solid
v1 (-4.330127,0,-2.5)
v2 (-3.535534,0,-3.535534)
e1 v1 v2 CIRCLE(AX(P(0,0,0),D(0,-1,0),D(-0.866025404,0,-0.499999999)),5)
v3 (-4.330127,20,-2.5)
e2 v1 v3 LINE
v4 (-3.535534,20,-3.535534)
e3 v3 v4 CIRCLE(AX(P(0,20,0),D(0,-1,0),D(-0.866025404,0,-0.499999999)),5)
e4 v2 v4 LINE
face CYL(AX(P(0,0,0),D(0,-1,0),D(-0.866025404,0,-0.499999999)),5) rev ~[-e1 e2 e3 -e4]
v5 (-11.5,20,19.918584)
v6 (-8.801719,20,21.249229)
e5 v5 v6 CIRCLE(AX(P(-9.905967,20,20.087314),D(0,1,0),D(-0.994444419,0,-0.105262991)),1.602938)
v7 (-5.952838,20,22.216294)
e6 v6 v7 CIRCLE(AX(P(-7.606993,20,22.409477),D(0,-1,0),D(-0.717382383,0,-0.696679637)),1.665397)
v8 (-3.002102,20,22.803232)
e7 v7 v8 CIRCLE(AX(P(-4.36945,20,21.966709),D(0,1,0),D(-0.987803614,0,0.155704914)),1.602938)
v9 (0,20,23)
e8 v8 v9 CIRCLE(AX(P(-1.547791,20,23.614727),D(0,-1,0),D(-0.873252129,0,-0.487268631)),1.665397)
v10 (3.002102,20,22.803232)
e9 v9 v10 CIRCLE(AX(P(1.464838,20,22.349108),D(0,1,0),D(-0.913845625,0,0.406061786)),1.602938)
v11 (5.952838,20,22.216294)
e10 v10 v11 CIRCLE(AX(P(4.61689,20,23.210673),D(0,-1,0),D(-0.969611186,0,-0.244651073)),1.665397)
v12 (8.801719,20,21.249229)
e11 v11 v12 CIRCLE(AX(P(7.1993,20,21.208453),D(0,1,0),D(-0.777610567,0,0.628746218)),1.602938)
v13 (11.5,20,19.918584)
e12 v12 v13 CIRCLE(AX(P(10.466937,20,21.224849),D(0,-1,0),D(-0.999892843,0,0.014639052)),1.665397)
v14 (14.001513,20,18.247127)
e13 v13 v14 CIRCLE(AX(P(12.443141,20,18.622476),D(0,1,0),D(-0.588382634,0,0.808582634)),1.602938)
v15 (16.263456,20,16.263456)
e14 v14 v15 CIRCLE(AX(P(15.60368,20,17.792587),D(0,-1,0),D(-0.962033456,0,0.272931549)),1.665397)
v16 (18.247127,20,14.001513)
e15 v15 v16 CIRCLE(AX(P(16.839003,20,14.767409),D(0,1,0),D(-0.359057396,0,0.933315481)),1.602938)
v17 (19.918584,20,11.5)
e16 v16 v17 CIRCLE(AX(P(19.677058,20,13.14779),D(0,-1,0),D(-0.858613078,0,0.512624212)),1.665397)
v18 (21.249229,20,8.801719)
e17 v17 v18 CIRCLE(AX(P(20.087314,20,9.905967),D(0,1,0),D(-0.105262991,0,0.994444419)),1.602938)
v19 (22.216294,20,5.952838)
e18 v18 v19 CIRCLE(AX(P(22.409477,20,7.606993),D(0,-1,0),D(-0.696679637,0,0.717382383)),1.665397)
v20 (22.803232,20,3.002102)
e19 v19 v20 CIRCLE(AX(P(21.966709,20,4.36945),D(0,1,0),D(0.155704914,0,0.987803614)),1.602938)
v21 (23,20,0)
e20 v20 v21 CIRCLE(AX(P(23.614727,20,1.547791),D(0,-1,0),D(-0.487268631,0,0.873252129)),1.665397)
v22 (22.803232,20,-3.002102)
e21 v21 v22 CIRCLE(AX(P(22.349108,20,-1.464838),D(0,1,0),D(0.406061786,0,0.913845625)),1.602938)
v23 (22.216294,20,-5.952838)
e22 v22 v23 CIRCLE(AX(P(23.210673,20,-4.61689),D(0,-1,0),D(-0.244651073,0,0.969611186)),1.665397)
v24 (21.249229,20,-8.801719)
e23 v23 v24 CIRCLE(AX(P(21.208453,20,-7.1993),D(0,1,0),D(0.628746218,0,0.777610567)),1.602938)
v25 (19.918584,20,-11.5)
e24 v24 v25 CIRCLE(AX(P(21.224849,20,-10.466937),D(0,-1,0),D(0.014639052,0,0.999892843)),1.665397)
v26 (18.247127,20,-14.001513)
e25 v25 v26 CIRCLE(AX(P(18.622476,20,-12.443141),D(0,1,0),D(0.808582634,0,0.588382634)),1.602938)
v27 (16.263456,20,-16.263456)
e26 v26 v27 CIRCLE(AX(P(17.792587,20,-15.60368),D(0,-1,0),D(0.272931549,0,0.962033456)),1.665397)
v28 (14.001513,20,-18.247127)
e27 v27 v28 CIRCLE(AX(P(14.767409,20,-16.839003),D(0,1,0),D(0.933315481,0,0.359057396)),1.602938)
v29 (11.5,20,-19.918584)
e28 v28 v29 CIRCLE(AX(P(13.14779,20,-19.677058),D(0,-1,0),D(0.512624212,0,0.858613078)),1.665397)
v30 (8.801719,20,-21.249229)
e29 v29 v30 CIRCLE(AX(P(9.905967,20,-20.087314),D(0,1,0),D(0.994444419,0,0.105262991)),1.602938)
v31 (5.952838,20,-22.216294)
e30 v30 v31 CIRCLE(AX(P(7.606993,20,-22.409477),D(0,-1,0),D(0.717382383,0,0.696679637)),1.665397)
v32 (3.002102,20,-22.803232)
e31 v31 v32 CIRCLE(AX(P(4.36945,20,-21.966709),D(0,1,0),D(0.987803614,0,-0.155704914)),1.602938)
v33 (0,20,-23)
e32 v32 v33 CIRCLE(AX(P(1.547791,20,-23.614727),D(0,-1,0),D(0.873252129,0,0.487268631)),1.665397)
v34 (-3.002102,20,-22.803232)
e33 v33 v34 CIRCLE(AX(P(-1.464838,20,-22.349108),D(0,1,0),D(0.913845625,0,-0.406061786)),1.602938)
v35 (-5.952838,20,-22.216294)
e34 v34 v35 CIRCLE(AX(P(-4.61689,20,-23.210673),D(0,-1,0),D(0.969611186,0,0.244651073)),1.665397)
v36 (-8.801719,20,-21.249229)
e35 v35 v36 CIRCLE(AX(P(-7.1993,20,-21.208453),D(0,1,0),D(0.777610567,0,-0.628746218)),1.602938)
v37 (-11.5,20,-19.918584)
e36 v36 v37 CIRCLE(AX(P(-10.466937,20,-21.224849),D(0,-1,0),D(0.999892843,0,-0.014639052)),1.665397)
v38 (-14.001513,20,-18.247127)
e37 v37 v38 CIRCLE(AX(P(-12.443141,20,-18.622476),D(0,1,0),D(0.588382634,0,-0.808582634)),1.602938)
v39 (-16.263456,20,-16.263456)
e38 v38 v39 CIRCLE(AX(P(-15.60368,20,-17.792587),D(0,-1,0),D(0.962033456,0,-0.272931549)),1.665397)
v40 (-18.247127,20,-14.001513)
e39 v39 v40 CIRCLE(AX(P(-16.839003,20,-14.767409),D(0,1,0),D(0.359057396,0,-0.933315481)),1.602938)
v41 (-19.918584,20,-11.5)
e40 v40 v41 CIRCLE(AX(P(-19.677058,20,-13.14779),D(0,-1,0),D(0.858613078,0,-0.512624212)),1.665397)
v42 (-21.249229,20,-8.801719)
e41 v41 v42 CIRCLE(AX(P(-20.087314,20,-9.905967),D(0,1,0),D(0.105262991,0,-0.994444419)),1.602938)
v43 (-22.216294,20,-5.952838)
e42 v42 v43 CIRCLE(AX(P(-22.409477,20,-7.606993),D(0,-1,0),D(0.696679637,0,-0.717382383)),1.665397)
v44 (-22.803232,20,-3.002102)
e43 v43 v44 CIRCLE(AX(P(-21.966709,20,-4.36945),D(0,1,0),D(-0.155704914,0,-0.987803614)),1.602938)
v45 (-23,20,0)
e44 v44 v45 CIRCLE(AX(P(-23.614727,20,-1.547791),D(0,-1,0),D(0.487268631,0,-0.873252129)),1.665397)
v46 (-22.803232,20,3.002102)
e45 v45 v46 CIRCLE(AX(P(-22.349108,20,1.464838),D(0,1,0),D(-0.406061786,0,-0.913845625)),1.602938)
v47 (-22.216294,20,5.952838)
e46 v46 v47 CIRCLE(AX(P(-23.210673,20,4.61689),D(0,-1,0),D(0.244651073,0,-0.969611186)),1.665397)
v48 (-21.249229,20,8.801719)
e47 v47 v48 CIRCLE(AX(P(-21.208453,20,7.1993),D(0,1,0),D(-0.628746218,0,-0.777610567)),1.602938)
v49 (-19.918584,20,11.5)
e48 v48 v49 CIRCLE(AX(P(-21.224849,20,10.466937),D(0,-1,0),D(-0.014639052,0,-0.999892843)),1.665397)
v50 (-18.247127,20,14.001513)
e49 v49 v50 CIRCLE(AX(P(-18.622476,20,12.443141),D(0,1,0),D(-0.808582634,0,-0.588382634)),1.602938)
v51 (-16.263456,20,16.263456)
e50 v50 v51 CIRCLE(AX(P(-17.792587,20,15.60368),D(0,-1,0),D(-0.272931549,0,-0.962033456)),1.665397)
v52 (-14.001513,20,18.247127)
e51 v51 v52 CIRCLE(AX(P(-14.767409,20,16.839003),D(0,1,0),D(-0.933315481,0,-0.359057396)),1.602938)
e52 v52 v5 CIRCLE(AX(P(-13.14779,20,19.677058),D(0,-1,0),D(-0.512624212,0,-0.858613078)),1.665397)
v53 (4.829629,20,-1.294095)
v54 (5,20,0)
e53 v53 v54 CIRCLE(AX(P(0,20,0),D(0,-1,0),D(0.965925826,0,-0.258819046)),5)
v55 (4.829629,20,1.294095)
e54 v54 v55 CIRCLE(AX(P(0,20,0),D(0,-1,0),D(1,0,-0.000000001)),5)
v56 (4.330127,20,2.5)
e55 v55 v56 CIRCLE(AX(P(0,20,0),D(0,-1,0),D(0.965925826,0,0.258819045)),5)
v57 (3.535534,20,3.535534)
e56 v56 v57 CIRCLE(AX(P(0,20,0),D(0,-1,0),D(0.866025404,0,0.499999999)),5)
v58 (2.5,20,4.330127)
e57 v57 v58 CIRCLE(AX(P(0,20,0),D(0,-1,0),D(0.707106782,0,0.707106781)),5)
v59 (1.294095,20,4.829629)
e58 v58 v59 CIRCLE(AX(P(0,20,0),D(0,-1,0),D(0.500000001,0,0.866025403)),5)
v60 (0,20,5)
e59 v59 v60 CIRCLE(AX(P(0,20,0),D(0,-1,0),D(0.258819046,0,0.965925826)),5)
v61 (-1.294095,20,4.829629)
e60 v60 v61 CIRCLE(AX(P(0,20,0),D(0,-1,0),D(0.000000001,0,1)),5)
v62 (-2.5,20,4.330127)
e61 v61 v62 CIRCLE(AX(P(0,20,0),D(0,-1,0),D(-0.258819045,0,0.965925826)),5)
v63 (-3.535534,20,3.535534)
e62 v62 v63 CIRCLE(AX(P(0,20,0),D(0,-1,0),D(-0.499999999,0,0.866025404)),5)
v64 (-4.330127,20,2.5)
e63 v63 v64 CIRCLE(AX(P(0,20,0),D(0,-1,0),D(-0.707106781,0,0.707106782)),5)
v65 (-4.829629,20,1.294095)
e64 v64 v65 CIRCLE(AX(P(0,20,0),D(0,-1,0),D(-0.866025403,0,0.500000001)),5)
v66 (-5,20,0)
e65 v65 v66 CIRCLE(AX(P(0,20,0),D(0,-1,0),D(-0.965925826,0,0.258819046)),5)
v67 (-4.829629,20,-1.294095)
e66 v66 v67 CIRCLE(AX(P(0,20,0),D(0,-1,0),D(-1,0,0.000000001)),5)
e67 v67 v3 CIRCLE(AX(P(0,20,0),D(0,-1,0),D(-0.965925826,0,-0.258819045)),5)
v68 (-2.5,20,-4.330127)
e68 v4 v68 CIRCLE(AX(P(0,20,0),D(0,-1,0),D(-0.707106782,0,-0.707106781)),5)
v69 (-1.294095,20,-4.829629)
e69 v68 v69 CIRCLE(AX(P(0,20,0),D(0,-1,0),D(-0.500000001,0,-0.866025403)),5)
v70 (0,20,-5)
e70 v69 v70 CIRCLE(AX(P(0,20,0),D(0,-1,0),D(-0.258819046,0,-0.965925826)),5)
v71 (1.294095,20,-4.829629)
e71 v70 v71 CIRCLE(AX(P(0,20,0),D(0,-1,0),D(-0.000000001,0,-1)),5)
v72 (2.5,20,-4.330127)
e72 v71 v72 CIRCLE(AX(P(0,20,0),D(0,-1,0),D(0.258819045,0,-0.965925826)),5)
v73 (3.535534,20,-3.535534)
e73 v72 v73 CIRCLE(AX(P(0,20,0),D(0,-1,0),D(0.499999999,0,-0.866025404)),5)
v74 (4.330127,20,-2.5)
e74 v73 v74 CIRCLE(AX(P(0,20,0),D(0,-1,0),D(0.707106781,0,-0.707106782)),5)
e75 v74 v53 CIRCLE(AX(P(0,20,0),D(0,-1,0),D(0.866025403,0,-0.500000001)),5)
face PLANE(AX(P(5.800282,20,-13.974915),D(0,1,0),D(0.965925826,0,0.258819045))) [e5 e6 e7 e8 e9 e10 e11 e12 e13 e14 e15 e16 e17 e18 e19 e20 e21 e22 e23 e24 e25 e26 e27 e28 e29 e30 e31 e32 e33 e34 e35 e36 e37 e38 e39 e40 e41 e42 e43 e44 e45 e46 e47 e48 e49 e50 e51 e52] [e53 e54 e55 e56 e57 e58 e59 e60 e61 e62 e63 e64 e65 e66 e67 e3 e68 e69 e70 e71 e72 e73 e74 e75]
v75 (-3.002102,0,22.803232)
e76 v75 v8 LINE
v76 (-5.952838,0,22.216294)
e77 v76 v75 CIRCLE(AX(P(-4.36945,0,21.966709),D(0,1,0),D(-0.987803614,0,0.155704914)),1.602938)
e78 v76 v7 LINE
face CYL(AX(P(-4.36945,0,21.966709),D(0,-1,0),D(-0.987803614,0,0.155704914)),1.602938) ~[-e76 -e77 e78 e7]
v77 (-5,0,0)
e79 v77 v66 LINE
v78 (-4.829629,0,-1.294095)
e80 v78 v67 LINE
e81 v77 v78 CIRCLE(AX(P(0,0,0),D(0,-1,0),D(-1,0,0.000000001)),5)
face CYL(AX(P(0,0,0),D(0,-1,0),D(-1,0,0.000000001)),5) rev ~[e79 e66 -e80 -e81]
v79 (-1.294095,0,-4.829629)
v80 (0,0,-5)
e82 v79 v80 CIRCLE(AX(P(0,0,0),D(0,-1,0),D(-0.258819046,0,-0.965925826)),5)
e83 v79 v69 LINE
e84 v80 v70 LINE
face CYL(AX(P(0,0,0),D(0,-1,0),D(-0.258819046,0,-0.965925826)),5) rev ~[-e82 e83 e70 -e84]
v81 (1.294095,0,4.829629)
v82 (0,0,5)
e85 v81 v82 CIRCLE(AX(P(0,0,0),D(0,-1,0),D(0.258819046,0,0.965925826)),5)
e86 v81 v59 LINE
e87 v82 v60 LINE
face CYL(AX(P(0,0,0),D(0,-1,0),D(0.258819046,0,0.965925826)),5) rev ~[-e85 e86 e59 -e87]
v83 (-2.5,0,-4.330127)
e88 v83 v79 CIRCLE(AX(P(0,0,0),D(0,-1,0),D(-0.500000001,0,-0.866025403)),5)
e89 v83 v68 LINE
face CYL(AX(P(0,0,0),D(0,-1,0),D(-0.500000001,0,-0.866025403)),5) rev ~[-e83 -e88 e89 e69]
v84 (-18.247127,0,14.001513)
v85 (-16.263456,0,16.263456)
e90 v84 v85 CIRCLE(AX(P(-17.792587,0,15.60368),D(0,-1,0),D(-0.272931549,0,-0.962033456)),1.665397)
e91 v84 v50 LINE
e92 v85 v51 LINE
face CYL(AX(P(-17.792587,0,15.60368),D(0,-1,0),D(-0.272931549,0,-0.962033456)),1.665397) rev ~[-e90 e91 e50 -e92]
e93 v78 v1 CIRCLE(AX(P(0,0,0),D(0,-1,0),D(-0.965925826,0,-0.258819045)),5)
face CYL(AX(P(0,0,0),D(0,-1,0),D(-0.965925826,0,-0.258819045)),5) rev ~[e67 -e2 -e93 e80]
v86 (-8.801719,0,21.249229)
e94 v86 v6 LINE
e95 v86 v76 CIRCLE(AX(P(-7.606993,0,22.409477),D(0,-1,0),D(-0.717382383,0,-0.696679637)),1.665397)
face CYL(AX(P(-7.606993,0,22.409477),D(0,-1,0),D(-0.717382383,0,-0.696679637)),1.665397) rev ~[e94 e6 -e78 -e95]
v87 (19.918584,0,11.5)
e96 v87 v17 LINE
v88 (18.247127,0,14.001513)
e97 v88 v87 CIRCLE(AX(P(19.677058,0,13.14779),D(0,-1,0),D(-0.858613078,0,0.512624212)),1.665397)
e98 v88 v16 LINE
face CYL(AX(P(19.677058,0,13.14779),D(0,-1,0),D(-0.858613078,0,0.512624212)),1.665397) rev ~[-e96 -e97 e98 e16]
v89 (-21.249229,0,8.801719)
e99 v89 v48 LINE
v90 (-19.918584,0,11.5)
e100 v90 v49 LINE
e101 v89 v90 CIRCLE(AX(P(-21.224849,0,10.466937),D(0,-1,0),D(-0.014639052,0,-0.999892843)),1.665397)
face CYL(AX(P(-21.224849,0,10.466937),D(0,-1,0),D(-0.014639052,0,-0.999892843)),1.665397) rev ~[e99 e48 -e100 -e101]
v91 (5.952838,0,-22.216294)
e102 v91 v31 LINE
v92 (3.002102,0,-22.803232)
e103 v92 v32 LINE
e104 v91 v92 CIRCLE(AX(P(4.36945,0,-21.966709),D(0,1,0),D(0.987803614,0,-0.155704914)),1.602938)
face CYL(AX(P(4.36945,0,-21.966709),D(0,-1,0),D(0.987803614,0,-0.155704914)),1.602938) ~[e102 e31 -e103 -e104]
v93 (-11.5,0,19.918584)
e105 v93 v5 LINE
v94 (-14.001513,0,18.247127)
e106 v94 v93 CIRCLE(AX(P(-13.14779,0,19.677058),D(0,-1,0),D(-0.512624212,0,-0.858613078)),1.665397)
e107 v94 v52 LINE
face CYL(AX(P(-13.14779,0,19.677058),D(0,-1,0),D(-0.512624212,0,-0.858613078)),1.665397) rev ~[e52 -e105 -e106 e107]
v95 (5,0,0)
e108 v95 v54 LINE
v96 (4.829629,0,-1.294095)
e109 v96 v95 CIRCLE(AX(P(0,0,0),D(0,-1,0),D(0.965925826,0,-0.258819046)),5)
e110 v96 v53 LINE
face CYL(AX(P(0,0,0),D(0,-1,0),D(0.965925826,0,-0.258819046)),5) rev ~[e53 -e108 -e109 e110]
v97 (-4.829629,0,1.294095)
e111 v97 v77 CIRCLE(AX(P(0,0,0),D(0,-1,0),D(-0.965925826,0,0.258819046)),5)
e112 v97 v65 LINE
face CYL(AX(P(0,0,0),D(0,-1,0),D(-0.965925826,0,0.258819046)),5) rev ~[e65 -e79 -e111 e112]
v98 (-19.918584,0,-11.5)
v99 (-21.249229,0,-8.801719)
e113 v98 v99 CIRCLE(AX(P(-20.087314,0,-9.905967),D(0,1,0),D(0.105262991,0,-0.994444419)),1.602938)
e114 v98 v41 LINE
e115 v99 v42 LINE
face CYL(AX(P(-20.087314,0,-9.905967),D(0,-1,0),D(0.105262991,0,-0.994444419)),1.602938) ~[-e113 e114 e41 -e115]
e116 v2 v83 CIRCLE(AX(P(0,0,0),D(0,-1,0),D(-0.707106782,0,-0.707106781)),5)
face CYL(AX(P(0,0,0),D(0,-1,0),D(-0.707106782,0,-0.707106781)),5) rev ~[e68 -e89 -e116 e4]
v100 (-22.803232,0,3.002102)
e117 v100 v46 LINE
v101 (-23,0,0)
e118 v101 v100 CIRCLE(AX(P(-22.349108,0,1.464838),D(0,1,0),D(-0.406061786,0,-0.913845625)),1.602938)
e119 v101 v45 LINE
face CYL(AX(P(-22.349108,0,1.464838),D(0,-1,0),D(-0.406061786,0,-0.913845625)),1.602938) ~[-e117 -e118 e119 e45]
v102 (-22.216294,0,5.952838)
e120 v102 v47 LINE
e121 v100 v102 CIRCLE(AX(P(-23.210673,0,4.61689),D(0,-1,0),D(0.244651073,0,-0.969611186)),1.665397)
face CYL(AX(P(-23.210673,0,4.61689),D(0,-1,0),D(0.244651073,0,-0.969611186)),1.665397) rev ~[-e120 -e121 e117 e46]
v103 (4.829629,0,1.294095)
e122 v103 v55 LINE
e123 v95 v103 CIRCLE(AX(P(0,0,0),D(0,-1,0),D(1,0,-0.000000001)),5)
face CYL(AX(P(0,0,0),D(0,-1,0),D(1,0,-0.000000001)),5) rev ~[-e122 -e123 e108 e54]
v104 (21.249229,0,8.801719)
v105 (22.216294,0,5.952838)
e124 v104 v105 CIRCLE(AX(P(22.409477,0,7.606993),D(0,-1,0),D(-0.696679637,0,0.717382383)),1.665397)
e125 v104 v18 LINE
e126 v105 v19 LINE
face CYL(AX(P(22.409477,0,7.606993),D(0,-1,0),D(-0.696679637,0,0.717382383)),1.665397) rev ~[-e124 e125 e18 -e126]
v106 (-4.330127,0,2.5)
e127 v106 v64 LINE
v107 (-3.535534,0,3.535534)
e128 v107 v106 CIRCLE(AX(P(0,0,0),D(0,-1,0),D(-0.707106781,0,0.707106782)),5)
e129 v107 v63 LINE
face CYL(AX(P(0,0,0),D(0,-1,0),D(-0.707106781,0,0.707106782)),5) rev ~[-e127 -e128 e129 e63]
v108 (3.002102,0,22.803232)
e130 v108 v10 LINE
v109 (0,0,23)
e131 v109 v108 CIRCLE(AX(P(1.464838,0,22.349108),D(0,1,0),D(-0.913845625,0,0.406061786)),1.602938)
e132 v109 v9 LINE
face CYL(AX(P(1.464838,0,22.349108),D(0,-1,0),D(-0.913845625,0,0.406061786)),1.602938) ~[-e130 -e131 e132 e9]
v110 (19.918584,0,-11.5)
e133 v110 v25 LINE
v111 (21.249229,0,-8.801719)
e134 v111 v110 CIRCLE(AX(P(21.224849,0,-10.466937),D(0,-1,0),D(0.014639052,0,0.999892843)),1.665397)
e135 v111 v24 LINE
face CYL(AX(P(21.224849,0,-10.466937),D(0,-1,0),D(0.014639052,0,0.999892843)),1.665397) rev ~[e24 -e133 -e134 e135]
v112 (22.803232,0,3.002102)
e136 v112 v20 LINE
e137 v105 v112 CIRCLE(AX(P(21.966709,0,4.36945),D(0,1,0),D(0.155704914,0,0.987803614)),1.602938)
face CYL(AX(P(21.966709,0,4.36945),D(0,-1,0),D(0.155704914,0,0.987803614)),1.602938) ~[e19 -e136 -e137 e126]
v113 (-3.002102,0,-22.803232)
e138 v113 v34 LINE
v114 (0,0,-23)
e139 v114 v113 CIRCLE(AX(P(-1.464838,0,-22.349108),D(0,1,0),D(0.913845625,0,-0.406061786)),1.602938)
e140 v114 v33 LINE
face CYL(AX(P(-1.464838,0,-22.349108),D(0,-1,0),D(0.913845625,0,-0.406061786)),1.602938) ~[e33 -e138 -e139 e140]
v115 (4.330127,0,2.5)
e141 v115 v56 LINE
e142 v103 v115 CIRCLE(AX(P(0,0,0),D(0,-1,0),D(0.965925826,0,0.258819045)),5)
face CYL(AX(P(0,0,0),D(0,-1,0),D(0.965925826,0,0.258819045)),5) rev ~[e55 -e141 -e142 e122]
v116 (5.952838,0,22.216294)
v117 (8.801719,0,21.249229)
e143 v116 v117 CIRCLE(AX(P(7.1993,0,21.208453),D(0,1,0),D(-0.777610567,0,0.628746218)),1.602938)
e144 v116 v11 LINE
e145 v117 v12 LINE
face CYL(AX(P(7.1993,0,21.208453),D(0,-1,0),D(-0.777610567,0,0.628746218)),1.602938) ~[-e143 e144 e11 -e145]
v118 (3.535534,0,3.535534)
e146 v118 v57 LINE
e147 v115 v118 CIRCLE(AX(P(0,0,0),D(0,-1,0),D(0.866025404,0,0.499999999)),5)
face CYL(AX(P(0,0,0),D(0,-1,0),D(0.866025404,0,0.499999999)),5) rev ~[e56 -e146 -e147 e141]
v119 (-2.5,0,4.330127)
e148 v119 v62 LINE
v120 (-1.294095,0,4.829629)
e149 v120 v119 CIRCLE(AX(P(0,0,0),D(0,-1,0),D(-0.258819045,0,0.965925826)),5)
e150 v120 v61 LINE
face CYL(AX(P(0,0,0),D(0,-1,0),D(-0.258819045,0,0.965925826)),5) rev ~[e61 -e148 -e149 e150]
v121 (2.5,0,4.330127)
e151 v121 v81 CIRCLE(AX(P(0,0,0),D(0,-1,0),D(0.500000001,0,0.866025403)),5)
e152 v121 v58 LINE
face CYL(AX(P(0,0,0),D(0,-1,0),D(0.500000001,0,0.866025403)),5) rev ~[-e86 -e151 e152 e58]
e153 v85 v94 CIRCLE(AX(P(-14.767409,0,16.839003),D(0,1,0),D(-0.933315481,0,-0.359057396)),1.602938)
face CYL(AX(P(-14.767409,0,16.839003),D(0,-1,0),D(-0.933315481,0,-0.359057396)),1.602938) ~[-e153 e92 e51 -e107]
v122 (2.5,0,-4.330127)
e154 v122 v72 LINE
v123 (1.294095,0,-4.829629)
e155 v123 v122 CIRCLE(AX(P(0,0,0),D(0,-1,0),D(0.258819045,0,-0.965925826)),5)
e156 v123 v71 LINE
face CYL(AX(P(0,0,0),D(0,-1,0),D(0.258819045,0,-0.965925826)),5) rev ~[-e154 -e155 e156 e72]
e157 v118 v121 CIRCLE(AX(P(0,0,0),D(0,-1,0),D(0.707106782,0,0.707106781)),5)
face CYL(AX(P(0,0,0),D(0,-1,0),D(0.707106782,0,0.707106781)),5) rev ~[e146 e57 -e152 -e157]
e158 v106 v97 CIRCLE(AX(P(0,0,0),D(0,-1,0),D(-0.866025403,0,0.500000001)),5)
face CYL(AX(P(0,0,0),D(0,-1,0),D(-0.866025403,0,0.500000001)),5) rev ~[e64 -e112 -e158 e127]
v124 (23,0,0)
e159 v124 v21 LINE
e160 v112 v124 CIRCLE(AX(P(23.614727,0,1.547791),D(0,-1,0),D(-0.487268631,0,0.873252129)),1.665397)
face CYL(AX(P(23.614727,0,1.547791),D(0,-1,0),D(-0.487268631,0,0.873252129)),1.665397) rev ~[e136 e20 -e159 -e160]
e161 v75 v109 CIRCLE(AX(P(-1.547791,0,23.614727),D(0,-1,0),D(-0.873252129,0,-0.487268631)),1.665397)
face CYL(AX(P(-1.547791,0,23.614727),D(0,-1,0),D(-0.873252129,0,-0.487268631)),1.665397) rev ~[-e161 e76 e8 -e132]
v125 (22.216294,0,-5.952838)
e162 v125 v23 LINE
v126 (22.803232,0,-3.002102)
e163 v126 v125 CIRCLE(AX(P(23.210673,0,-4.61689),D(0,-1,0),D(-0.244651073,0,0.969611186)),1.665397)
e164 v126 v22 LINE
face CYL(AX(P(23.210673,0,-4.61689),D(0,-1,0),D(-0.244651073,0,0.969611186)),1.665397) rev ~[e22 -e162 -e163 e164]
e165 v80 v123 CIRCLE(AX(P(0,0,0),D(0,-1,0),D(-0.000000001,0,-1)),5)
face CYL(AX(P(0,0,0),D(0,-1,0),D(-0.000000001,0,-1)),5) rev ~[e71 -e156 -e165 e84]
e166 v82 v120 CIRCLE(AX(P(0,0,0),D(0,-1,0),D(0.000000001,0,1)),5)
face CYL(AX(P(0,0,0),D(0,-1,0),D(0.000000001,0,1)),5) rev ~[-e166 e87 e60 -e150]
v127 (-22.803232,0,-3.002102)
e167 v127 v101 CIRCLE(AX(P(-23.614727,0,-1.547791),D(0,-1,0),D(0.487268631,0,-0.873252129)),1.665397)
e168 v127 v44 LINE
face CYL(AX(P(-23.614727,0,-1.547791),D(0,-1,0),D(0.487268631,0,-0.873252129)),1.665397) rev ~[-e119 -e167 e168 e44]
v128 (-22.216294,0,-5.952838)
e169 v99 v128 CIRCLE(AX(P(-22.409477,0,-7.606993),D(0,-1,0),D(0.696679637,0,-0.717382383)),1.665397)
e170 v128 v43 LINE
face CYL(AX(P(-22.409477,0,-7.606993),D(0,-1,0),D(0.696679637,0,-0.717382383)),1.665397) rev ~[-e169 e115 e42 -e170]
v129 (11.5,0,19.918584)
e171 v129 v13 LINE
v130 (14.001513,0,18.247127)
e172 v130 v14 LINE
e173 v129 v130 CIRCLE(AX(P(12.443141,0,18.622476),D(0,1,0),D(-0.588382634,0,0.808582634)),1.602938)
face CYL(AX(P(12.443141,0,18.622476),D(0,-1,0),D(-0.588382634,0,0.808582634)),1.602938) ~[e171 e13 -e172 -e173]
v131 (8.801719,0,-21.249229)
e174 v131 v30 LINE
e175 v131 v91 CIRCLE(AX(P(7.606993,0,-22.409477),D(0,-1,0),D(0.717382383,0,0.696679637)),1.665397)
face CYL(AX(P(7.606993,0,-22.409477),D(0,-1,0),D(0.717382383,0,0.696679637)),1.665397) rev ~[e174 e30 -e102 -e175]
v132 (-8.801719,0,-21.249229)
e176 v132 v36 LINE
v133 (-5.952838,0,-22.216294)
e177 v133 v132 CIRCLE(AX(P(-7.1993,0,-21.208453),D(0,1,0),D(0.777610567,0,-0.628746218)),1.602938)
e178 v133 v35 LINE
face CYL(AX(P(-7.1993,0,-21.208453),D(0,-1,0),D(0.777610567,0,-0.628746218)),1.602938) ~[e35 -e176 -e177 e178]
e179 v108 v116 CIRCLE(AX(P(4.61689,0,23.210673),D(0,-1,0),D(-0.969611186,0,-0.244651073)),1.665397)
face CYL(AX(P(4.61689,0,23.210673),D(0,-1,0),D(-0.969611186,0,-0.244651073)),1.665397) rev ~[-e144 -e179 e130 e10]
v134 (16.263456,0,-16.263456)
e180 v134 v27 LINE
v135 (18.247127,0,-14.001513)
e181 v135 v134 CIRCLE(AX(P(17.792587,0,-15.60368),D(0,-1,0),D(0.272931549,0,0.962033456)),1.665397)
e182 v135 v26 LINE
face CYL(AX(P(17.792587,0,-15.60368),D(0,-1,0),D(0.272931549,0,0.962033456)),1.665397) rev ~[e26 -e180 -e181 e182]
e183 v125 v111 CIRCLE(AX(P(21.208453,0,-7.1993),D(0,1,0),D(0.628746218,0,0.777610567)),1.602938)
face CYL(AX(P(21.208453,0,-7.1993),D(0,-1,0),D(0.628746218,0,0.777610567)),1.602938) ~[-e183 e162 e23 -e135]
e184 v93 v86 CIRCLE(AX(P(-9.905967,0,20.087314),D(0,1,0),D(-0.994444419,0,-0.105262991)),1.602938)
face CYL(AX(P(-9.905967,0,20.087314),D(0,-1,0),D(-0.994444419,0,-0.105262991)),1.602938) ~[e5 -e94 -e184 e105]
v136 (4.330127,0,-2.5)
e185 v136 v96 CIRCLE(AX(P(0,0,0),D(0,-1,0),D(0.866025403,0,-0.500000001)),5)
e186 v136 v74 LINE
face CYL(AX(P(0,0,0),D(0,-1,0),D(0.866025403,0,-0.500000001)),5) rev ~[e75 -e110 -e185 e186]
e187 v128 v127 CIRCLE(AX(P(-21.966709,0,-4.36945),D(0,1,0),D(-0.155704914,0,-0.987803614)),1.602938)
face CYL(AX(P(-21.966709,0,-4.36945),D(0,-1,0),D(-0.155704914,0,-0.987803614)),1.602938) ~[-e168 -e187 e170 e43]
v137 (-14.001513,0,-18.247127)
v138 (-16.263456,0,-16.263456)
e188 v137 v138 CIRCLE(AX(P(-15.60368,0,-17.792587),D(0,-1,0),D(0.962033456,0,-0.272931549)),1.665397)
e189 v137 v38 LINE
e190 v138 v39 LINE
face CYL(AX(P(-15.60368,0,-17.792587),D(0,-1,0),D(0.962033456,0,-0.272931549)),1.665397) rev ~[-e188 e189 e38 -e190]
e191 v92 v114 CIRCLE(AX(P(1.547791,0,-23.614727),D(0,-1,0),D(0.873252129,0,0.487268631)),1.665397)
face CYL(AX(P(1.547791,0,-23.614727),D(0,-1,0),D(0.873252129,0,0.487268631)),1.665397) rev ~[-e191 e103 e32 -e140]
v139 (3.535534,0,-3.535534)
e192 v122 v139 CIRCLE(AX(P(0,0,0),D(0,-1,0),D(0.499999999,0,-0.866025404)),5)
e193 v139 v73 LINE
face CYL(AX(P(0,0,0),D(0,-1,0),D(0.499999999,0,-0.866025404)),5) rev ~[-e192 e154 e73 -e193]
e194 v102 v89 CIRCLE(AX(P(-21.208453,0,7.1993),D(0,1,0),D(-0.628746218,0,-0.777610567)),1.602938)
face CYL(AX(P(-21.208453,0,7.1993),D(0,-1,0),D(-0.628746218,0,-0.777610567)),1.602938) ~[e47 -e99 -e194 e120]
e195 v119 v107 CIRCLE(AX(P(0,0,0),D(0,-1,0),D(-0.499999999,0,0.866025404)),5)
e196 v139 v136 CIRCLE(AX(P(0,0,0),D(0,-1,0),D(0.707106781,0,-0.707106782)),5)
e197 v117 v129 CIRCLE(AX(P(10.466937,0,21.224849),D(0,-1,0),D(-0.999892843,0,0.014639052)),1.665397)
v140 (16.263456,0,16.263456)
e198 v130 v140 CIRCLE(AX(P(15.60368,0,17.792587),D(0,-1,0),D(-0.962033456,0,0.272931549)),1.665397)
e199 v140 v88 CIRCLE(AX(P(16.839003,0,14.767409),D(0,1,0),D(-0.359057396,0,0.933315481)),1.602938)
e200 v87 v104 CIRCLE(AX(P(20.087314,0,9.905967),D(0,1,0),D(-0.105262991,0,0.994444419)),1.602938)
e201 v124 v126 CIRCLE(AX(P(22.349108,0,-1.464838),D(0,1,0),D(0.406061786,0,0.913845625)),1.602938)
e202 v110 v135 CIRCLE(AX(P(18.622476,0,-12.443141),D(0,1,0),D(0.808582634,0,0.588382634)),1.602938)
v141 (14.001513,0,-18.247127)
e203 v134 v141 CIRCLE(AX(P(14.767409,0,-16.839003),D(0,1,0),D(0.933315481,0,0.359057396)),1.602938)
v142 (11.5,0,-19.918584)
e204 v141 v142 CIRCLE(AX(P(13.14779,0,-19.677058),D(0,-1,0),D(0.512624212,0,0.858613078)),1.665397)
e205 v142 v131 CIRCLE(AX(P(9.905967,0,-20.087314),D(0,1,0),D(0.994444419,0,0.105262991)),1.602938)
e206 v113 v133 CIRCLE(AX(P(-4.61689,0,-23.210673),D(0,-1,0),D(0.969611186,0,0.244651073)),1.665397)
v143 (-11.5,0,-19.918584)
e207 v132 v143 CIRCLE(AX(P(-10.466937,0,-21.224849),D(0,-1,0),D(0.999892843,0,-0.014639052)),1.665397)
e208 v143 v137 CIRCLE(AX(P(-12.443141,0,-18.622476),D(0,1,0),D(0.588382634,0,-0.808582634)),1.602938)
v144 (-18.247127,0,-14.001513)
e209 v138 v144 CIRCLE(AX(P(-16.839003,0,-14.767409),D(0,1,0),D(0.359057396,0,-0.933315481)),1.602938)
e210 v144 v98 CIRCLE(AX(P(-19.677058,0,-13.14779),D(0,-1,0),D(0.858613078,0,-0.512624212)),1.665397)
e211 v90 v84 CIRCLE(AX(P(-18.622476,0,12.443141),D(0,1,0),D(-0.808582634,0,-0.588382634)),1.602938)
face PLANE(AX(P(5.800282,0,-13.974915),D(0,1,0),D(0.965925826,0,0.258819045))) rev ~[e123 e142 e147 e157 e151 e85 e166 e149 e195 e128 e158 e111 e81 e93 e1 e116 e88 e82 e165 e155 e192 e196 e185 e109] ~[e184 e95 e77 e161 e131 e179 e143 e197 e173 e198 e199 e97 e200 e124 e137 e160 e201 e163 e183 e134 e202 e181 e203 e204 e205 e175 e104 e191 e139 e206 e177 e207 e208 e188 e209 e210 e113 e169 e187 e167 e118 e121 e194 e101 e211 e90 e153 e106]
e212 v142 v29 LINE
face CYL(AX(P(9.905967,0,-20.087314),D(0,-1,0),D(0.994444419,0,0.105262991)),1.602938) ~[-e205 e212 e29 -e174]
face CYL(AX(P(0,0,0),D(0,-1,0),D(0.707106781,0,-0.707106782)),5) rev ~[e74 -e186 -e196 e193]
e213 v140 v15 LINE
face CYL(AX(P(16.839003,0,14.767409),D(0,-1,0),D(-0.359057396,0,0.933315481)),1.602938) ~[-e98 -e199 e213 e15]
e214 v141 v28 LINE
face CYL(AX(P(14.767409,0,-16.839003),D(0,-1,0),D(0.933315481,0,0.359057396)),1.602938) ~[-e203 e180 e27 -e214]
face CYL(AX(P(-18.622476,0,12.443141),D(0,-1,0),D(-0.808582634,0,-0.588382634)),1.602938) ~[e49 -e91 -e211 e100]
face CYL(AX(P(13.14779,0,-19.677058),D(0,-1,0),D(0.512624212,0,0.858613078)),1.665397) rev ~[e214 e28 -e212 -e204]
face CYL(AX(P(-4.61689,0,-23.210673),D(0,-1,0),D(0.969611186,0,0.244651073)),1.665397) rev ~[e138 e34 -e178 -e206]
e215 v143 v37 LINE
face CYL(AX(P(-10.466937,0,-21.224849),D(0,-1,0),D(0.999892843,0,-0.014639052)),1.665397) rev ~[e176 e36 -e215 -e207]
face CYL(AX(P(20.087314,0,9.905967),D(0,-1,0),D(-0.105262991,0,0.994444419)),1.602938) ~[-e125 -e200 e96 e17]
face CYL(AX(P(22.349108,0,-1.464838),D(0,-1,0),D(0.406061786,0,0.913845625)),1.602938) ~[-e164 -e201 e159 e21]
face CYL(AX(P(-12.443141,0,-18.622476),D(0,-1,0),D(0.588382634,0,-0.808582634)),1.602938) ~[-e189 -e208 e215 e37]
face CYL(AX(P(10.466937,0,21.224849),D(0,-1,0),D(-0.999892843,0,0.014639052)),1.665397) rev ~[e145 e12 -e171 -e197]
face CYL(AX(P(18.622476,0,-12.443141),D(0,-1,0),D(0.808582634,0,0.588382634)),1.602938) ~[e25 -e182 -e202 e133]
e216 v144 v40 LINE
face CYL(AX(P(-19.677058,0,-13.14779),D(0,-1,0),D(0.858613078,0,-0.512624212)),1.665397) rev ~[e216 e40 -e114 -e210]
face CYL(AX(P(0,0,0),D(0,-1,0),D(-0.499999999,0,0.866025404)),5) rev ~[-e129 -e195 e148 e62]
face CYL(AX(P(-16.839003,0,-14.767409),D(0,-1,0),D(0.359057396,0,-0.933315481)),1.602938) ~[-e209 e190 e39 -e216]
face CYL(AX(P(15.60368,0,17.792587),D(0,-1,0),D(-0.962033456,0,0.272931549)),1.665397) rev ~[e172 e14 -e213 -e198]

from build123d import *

# Parameters (mm, degrees)
BOSS_EXTRUDE1_DEPTH = 20
CIRPATTERN1_COUNT   = 24


with BuildPart() as part:
    # Sketch1 → Boss-Extrude1 (new body)
    with BuildSketch(Plane(origin=(0, 0, 0), x_dir=(1, 0, 0), z_dir=(0, 1, 0))):
        with BuildLine():
            Line((0, 23), (0, 5))
            ThreePointArc((0, 5), (0.652630961, 4.957224307), (1.294095226, 4.829629131))
            Line((1.294095226, 4.829629131), (5.952838037, 22.216294005))
            ThreePointArc((5.952838037, 22.216294005), (4.682167728, 23.53884673), (3.002102421, 22.803231812))
            ThreePointArc((3.002102421, 22.803231812), (1.438868843, 21.952896311), (0, 23))
        make_face()
    boss_extrude1 = extrude(amount=BOSS_EXTRUDE1_DEPTH)

    # CirPattern1: Boss-Extrude1 ×24 about axis
    cirpattern1_axis = Axis((0, 0, 0), (0, 1, 0))
    for i in range(1, CIRPATTERN1_COUNT):
        add(boss_extrude1.rotate(cirpattern1_axis, i * 360 / CIRPATTERN1_COUNT))


solid = part.part
